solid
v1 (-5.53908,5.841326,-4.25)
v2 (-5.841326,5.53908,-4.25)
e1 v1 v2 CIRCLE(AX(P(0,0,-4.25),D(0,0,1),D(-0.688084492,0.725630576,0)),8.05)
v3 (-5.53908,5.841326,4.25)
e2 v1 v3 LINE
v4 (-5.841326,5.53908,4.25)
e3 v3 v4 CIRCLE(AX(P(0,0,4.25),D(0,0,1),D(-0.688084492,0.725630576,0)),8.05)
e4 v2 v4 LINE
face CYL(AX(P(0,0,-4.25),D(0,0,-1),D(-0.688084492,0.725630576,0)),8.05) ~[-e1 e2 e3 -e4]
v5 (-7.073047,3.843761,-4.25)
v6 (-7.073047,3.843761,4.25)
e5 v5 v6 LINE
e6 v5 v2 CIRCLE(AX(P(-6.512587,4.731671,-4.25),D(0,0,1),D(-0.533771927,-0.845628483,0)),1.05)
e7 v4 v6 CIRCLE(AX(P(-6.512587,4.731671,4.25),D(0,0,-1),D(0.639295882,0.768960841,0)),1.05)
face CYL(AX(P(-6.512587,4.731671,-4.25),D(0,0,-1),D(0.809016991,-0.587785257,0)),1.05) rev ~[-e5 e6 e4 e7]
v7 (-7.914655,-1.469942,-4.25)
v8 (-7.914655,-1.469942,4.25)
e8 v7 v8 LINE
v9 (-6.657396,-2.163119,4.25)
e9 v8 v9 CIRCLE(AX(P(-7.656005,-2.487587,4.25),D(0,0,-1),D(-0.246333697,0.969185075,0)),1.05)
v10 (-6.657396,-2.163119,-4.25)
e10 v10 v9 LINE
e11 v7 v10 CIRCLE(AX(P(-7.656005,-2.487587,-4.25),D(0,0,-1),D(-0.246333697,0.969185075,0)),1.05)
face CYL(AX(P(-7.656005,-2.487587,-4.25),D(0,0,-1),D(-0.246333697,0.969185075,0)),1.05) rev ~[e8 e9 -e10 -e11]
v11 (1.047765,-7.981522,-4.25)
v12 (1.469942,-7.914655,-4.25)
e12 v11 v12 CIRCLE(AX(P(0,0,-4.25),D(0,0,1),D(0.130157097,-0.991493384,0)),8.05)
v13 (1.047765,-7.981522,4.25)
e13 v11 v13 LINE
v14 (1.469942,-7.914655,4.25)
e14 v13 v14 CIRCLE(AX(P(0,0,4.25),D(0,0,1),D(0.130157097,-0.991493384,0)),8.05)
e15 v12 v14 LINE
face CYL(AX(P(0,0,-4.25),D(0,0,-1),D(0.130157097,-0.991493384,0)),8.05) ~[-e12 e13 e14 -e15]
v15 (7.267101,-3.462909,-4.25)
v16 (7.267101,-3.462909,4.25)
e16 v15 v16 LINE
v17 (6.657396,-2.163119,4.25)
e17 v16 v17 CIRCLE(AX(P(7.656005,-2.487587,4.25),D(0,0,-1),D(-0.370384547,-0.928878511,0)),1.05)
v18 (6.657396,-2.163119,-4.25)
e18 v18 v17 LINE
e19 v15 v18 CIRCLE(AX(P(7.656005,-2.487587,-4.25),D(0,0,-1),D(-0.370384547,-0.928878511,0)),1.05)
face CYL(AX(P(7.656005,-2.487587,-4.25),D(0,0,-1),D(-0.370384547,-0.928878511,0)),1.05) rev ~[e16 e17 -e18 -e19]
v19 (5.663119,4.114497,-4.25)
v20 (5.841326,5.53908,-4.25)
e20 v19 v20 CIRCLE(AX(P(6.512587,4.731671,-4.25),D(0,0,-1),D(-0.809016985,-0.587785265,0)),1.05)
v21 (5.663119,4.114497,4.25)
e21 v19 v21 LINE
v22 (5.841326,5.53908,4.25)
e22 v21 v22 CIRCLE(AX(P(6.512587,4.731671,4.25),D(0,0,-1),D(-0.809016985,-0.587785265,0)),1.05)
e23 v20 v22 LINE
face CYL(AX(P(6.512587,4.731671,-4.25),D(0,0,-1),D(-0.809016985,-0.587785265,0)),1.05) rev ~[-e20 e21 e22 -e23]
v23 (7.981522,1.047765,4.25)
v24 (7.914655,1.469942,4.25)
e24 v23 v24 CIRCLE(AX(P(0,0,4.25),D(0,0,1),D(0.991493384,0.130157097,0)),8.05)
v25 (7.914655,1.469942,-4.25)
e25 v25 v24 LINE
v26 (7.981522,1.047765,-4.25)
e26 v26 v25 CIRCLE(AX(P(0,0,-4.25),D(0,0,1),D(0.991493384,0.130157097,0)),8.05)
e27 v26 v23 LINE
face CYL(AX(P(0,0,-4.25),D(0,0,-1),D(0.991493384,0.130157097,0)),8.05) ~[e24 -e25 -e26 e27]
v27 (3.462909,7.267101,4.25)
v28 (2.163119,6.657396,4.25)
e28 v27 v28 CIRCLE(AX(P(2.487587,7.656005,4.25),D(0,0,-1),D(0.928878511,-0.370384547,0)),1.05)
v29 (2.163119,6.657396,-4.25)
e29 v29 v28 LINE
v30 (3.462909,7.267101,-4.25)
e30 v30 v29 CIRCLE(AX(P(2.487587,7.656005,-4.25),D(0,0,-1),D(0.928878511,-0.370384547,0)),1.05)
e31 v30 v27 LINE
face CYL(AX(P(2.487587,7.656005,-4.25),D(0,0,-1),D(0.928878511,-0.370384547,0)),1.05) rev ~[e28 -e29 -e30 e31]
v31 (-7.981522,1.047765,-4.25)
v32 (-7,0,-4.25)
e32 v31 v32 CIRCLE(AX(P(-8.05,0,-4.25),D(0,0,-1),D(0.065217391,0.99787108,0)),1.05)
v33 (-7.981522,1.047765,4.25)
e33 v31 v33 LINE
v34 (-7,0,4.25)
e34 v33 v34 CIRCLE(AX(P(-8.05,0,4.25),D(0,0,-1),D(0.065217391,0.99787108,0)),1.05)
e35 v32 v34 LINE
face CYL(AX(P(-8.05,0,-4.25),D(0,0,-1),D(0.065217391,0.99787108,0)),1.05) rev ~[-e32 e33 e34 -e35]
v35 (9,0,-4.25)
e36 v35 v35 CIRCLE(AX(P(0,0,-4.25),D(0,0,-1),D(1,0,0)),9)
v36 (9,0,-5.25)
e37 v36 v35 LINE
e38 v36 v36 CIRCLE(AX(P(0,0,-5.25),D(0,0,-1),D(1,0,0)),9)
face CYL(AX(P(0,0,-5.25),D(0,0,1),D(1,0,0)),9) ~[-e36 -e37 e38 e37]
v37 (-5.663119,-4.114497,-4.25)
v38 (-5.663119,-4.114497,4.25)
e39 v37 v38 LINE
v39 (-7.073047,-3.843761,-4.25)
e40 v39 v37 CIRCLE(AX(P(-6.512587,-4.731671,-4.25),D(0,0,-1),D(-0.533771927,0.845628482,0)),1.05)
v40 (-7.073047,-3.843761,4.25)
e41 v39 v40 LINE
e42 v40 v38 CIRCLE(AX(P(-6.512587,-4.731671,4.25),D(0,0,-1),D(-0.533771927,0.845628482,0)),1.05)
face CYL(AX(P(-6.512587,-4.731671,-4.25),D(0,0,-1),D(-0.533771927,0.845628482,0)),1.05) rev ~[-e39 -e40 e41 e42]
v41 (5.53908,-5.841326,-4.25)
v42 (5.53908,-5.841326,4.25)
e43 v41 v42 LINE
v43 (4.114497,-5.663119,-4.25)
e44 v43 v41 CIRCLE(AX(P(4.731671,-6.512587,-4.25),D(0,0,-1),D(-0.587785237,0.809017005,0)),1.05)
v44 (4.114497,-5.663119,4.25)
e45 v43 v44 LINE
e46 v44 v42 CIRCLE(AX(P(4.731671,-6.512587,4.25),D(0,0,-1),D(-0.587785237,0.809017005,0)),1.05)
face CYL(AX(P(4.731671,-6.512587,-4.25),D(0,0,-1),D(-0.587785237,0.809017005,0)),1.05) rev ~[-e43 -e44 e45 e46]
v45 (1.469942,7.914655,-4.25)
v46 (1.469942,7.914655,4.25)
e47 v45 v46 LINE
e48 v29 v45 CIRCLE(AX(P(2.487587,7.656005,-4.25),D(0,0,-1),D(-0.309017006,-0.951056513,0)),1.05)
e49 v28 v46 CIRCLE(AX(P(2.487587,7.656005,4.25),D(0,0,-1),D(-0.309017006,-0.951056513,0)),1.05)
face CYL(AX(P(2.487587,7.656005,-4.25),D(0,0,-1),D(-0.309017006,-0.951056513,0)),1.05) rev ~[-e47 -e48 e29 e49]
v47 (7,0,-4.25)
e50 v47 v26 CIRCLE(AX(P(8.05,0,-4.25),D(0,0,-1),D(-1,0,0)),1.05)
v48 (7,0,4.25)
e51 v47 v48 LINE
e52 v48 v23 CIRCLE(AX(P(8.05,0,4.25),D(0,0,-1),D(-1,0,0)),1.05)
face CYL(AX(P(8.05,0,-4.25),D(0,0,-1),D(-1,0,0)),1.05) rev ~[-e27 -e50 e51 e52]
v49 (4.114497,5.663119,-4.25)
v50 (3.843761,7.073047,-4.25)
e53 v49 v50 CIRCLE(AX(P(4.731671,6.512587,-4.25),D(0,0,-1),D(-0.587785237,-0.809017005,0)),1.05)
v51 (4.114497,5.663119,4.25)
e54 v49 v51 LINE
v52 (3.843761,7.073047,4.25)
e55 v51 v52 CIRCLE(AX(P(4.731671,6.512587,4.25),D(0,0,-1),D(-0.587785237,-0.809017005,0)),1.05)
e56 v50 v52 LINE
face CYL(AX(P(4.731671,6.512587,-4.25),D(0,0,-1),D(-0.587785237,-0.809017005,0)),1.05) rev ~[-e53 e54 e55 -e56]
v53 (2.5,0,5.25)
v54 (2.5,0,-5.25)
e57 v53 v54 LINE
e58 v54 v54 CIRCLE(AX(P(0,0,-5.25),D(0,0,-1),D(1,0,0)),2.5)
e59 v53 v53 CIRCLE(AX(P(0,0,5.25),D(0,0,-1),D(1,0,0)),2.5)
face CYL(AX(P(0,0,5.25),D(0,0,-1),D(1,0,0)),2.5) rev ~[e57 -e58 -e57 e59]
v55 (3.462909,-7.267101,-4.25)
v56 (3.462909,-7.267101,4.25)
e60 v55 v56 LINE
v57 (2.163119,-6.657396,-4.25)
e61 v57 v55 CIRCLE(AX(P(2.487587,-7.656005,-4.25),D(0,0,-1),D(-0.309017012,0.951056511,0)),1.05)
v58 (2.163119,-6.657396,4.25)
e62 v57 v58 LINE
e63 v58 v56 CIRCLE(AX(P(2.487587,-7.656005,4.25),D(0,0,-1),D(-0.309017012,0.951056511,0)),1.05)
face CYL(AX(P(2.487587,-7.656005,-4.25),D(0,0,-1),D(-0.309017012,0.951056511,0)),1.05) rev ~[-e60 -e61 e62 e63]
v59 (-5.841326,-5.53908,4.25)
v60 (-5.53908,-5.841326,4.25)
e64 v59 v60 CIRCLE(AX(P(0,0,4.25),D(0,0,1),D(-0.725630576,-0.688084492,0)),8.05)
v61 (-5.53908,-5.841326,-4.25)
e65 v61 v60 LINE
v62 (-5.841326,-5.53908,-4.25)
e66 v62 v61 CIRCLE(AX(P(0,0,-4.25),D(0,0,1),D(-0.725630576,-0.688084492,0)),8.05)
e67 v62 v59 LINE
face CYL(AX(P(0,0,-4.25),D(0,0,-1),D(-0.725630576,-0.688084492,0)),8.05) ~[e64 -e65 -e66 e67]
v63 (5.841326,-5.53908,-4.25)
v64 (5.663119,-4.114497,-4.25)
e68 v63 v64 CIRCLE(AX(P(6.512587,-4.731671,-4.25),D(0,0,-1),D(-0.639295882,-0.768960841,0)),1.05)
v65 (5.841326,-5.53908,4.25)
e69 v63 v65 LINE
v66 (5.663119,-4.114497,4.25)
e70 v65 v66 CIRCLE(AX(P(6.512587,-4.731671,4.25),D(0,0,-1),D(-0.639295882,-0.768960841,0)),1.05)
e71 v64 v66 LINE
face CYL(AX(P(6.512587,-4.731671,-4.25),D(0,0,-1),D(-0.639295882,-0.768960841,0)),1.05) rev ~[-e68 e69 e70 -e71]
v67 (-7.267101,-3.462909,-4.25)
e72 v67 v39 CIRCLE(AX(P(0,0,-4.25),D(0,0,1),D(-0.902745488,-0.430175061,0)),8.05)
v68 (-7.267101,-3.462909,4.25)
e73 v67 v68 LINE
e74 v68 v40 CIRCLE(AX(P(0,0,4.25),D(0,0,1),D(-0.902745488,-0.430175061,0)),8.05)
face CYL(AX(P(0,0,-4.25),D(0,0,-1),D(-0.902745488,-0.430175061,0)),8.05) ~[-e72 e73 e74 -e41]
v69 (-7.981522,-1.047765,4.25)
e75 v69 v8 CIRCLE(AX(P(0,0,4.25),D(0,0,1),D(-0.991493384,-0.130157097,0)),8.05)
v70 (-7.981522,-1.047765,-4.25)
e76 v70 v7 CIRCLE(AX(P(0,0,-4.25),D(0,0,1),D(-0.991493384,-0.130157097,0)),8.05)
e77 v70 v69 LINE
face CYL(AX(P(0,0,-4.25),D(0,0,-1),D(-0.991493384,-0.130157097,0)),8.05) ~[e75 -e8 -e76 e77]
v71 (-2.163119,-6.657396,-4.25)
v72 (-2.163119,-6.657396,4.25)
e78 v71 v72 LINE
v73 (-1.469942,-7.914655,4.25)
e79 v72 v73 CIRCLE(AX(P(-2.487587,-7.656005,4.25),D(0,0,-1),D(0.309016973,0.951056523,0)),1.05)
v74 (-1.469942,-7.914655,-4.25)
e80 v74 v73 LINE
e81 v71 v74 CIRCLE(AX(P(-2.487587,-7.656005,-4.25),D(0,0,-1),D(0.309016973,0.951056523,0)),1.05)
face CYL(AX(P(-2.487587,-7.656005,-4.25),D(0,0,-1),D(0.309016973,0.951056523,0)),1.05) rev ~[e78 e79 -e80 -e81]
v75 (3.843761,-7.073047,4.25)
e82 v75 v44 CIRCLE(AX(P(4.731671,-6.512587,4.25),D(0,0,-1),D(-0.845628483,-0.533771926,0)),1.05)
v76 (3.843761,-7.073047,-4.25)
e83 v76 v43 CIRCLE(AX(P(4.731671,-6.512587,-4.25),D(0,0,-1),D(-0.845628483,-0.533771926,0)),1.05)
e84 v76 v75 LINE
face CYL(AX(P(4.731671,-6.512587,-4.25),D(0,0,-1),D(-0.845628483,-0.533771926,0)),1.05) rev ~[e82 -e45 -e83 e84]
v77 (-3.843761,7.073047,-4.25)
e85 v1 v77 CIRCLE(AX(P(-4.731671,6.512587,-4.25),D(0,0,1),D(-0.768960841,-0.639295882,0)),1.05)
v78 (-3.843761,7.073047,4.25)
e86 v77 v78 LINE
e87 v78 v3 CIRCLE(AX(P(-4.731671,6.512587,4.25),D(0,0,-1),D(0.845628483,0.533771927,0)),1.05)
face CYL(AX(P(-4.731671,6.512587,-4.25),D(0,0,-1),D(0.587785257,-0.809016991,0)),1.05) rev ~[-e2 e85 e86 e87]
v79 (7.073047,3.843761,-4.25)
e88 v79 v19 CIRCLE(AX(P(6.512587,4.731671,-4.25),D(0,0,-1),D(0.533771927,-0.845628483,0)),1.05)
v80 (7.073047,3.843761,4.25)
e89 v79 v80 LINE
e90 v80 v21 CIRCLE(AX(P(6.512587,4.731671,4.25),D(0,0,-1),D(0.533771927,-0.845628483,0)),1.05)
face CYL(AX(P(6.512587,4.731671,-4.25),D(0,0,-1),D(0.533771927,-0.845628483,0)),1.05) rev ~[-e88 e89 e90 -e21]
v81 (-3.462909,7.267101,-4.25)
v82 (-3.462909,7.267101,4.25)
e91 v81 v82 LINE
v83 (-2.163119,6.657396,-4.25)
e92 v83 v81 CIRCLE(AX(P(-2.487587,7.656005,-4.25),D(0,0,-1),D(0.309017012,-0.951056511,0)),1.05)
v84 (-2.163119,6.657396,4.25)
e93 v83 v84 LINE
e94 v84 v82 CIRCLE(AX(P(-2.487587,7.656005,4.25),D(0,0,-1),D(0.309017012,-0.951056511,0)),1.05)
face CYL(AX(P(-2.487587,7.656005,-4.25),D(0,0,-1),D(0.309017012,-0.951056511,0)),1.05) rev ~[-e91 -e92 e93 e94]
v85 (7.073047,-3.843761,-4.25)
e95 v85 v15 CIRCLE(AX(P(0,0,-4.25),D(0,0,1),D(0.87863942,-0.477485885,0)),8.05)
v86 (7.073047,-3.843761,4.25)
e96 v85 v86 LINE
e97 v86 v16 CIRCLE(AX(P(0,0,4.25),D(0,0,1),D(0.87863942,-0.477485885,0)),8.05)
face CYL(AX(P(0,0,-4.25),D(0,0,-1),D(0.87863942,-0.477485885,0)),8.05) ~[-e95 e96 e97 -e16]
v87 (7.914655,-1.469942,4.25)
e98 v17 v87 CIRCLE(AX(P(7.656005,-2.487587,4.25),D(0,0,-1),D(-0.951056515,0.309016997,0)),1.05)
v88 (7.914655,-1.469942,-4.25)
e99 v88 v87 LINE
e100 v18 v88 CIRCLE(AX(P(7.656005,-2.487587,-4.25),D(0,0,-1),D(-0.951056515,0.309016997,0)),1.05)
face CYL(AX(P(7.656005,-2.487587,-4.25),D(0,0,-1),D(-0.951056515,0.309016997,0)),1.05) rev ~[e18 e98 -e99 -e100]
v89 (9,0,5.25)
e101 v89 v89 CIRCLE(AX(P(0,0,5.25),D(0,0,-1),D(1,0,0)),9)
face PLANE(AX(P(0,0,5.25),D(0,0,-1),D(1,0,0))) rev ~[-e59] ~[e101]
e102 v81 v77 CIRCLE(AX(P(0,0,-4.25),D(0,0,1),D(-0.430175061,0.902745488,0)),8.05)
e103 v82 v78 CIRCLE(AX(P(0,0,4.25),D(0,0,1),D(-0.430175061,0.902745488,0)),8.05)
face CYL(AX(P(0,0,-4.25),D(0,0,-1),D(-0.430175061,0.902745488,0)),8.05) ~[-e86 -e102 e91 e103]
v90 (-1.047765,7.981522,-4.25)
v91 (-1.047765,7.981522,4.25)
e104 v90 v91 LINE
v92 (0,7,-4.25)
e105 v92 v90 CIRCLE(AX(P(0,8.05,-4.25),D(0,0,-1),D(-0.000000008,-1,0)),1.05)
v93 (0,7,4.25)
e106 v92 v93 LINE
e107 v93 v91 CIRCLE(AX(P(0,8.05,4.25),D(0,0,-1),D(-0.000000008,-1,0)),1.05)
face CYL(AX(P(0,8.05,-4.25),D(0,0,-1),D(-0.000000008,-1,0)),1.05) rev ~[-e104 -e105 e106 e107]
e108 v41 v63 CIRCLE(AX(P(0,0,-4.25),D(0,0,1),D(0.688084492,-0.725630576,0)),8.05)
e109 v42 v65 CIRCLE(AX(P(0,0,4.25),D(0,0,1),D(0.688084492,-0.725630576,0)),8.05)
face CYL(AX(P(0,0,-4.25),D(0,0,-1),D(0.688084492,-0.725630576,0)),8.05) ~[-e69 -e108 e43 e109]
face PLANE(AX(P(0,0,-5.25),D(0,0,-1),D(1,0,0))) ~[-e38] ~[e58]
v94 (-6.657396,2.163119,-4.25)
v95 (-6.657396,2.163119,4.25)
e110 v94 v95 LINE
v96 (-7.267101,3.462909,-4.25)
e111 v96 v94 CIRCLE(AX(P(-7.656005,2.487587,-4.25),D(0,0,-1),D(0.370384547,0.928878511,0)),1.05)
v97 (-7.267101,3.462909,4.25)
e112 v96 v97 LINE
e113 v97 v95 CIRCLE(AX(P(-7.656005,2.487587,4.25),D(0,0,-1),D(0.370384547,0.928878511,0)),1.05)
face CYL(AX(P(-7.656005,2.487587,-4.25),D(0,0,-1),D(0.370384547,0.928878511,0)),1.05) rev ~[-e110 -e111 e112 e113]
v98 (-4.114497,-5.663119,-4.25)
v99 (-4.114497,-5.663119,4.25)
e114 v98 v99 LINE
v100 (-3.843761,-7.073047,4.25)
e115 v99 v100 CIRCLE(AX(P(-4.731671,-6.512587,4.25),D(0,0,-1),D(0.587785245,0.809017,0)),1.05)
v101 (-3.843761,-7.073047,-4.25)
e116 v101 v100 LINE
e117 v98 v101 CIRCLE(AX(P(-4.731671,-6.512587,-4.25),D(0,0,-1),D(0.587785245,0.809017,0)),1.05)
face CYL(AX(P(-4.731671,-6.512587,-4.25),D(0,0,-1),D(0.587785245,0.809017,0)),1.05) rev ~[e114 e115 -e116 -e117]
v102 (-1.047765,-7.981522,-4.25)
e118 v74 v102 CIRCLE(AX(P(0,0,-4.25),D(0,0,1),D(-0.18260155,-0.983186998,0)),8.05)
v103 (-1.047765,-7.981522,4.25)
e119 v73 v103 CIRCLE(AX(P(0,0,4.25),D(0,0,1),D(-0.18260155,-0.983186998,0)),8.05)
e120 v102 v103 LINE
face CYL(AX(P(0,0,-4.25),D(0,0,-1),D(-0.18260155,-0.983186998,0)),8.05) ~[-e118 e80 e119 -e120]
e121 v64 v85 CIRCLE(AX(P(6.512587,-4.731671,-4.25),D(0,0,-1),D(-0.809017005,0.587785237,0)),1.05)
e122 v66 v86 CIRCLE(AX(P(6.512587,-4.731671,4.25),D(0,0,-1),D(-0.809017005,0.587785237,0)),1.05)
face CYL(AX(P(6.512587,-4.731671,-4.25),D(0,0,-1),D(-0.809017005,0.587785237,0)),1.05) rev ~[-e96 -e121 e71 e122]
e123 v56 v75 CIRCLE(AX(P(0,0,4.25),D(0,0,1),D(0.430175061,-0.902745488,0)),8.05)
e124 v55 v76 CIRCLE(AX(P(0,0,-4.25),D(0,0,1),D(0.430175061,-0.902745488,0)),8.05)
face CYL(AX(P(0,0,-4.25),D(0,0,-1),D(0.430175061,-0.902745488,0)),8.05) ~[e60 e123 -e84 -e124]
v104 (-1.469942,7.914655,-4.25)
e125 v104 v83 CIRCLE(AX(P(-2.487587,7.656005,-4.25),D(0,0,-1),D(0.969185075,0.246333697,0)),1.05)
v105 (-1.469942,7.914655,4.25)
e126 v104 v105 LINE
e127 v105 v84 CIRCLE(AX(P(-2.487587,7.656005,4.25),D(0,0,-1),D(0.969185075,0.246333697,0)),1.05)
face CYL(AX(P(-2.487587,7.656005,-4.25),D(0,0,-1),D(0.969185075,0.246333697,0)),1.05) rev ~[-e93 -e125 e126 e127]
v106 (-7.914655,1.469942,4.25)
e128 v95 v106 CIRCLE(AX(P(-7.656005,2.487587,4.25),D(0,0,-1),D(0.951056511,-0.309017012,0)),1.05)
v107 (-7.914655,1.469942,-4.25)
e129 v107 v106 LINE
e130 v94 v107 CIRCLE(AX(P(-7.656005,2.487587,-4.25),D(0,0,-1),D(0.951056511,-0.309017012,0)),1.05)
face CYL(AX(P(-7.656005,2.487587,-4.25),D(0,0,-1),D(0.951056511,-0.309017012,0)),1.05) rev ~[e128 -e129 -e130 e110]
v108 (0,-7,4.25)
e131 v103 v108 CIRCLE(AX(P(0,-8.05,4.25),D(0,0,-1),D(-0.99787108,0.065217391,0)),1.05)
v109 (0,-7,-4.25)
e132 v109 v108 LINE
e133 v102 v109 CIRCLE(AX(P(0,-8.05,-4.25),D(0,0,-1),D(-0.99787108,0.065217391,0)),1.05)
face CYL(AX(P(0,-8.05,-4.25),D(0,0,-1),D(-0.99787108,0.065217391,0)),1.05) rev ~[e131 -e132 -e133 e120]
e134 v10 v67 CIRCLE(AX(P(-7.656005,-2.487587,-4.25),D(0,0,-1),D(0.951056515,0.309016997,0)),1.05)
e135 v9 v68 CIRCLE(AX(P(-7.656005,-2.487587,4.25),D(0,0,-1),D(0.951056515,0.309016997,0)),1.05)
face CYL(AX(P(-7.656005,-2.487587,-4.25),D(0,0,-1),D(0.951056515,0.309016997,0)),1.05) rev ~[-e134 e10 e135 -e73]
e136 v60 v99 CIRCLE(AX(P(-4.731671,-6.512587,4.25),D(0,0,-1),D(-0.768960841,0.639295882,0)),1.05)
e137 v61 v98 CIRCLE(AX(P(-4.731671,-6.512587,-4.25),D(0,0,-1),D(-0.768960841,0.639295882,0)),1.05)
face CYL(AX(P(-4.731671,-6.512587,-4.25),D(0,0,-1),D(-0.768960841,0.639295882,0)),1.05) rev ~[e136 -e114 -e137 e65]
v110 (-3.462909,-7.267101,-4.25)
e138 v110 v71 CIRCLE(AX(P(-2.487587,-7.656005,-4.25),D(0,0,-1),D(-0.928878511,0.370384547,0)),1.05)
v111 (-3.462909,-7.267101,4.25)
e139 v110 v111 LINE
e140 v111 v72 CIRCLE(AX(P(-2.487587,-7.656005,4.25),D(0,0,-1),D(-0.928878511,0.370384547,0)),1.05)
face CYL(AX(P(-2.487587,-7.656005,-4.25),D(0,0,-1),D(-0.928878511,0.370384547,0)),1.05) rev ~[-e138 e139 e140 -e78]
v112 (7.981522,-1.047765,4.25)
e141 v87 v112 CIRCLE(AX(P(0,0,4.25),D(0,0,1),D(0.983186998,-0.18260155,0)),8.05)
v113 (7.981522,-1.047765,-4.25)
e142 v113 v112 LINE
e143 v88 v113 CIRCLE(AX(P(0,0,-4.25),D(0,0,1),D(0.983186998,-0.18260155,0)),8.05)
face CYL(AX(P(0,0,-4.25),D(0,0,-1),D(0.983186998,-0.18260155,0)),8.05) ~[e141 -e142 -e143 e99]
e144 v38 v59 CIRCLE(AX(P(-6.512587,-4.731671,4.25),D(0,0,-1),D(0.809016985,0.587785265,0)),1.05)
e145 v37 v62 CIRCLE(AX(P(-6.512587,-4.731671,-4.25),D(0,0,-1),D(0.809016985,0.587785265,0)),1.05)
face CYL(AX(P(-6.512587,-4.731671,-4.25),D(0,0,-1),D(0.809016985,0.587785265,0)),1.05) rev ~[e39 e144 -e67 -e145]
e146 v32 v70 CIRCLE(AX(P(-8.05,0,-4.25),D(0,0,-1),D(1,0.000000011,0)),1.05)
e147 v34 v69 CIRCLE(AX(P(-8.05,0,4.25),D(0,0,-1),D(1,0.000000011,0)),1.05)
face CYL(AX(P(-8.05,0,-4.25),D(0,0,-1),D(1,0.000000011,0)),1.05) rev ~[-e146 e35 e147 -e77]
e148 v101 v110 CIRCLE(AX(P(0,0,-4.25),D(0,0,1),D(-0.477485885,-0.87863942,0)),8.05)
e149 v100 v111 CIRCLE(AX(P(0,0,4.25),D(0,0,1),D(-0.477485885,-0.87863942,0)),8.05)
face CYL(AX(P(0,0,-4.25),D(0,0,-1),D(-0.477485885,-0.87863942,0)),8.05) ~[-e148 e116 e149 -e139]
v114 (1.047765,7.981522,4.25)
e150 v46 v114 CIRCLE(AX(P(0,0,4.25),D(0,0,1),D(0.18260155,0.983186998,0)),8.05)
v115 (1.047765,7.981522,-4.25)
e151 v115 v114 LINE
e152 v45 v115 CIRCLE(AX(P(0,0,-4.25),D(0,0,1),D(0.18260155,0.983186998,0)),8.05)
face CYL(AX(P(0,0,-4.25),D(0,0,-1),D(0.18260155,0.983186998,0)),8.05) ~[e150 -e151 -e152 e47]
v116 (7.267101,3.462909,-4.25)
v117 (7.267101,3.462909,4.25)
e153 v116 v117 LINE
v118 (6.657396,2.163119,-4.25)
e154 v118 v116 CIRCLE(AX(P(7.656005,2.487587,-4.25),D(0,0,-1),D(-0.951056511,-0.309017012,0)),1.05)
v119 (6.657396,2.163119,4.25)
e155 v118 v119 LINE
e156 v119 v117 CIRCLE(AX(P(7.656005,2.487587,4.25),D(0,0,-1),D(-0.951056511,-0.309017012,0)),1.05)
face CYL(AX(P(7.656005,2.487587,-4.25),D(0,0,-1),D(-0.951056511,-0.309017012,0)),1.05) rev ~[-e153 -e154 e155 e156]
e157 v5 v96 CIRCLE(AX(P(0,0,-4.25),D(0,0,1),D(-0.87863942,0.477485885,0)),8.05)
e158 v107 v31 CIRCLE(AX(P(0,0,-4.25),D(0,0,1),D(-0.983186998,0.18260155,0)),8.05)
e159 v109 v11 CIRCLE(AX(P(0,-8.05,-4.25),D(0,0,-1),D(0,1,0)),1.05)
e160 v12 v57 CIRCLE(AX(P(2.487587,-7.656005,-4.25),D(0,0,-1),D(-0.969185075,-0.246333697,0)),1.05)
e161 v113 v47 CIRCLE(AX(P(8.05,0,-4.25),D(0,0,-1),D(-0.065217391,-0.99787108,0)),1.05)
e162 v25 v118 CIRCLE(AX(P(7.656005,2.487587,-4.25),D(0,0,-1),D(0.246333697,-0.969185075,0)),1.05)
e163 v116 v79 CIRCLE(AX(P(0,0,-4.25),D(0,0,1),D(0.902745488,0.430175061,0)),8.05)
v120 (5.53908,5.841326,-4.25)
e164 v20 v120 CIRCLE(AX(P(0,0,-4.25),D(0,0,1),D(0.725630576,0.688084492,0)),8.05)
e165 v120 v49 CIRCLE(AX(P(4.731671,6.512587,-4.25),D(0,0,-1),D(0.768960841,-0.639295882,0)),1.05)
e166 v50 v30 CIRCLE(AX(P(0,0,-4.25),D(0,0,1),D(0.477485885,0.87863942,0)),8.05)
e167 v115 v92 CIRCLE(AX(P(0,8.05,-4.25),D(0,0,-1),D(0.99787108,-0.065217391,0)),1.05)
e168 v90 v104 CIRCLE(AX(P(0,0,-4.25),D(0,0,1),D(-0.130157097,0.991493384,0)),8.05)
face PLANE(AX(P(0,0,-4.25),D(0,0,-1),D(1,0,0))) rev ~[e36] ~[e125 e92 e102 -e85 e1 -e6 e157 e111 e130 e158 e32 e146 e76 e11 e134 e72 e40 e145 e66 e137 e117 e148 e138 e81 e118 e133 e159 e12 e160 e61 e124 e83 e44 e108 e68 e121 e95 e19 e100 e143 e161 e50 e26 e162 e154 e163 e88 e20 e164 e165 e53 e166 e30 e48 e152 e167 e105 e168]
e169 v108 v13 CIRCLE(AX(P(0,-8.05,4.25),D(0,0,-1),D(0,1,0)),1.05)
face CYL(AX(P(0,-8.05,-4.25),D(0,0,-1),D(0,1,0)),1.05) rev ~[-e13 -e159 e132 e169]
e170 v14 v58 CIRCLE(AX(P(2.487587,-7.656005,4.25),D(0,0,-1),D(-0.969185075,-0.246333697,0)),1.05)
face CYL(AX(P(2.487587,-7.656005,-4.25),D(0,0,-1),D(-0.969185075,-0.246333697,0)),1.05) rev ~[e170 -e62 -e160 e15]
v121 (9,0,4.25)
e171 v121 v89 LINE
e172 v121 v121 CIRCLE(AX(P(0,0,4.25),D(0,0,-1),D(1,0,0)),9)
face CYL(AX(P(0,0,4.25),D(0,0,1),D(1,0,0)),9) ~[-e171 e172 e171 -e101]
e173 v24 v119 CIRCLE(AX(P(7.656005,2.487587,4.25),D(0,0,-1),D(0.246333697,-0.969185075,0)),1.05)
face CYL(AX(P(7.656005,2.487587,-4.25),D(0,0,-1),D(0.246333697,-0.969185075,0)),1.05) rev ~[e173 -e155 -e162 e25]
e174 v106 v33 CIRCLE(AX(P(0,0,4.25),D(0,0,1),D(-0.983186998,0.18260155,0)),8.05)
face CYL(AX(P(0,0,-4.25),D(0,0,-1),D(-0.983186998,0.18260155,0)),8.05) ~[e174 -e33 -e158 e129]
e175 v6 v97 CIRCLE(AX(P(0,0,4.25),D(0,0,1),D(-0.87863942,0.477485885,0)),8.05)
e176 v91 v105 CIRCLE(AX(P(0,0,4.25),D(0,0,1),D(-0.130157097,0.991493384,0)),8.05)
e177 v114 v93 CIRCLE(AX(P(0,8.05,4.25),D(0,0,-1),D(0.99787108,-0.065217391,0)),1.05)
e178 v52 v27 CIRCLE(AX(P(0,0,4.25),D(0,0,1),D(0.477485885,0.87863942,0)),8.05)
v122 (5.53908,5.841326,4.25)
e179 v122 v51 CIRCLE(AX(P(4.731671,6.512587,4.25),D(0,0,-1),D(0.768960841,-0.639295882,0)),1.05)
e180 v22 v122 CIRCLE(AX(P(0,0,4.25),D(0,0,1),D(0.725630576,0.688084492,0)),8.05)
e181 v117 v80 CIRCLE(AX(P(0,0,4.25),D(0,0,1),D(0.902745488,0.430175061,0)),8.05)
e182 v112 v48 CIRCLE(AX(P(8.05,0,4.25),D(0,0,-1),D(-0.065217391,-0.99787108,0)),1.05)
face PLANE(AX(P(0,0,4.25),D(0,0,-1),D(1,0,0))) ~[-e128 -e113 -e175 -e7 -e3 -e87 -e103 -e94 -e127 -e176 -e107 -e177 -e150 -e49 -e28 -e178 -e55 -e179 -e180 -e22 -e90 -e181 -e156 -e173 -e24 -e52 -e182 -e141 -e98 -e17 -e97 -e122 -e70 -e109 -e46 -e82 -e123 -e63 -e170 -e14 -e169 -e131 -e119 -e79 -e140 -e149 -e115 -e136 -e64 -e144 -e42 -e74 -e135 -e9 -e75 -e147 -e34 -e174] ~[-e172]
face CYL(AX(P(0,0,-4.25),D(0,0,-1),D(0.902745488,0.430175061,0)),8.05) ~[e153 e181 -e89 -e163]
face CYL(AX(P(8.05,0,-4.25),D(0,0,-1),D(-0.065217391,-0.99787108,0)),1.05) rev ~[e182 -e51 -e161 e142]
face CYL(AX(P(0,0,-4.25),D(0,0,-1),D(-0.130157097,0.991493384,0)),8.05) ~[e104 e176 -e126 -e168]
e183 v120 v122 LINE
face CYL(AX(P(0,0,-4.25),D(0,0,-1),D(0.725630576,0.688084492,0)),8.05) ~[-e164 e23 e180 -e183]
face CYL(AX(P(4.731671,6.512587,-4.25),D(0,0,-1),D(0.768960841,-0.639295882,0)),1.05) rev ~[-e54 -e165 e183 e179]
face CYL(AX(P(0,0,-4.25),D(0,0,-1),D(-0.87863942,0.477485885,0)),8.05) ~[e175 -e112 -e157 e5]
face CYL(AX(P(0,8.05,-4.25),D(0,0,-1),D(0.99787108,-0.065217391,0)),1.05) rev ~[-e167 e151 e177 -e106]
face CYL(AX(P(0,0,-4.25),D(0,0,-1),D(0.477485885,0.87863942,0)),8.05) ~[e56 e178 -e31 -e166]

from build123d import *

# Parameters (mm, degrees)
F3_DEPTH = 8.5


with BuildPart() as f1:
    # F0 (on Front) → F1 (revolve)
    with BuildSketch(Plane.XZ):
        Polygon((9, 5.25), (2.5, 5.25), (2.5, -5.25), (9, -5.25), (9, -4.25), (7, -4.25), (7, 4.25), (9, 4.25), align=None)
    revolve(axis=Axis((0, 0, -3.0081442633), (0, 0, -1)))

    # F2 (on face) → F3 (join)
    with BuildSketch(Plane.XY.offset(-4.25)):
        with BuildLine():
            ThreePointArc((7.267101182, -3.4629092409), (6.7053936496, -2.9334995134), (6.657395615, -2.1631189579))
            ThreePointArc((6.657395615, -2.1631189579), (6.2370456655, -3.1779335057), (5.663118949, -4.114496782))
            ThreePointArc((5.663118949, -4.114496782), (6.3145824491, -3.7005096665), (7.0730473275, -3.8437613743))
            ThreePointArc((7.0730473275, -3.8437613743), (7.1726025197, -3.6546235229), (7.267101182, -3.4629092409))
        make_face()
        with BuildLine():
            ThreePointArc((7.9815217391, -1.0477646338), (7.2837095283, -0.7178432371), (7, 0))
            ThreePointArc((7, 0), (6.9138183844, -1.0950412539), (6.657395615, -2.1631189579))
            ThreePointArc((6.657395615, -2.1631189579), (7.1490451706, -1.5680805373), (7.9146553379, -1.4699424759))
            ThreePointArc((7.9146553379, -1.4699424759), (7.9508911418, -1.2592974436), (7.9815217391, -1.0477646338))
        make_face()
        with BuildLine():
            ThreePointArc((7.9146553379, 1.4699424759), (7.1490451776, 1.5680805334), (6.6573956199, 2.1631189425))
            ThreePointArc((6.6573956199, 2.1631189425), (6.9138183857, 1.0950412459), (7, 0))
            ThreePointArc((7, 0), (7.2837095283, 0.7178432371), (7.9815217391, 1.0477646338))
            ThreePointArc((7.9815217391, 1.0477646338), (7.9508911418, 1.2592974436), (7.9146553379, 1.4699424759))
        make_face()
        with BuildLine():
            ThreePointArc((5.8413261283, -5.5390801639), (5.4707071235, -4.8620044306), (5.663118949, -4.114496782))
            ThreePointArc((5.663118949, -4.114496782), (4.9497474683, -4.9497474683), (4.114496782, -5.663118949))
            ThreePointArc((4.114496782, -5.663118949), (4.8620044306, -5.4707071235), (5.5390801639, -5.8413261283))
            ThreePointArc((5.5390801639, -5.8413261283), (5.6922095886, -5.6922095886), (5.8413261283, -5.5390801639))
        make_face()
        with BuildLine():
            ThreePointArc((3.8437613743, -7.0730473275), (3.7005096665, -6.3145824491), (4.114496782, -5.663118949))
            ThreePointArc((4.114496782, -5.663118949), (3.1779334985, -6.2370456692), (2.1631189425, -6.6573956199))
            ThreePointArc((2.1631189425, -6.6573956199), (2.933499506, -6.7053936461), (3.4629092409, -7.267101182))
            ThreePointArc((3.4629092409, -7.267101182), (3.6546235229, -7.1726025197), (3.8437613743, -7.0730473275))
        make_face()
        with BuildLine():
            ThreePointArc((1.4699424759, -7.9146553379), (1.5680805334, -7.1490451776), (2.1631189425, -6.6573956199))
            ThreePointArc((2.1631189425, -6.6573956199), (1.0950412459, -6.9138183857), (0, -7))
            ThreePointArc((0, -7), (0.7178432371, -7.2837095283), (1.0477646338, -7.9815217391))
            ThreePointArc((1.0477646338, -7.9815217391), (1.2592974436, -7.9508911418), (1.4699424759, -7.9146553379))
        make_face()
        with BuildLine():
            ThreePointArc((0, -7), (-1.0950412668, -6.9138183823), (-2.1631189827, -6.6573956069))
            ThreePointArc((-2.1631189827, -6.6573956069), (-1.5680805436, -7.1490451591), (-1.4699424759, -7.9146553379))
            ThreePointArc((-1.4699424759, -7.9146553379), (-1.2592974436, -7.9508911418), (-1.0477646338, -7.9815217391))
            ThreePointArc((-1.0477646338, -7.9815217391), (-0.7178432371, -7.2837095283), (0, -7))
        make_face()
        with BuildLine():
            ThreePointArc((-2.1631189827, -6.6573956069), (-3.1779335128, -6.2370456619), (-4.1144967738, -5.663118955))
            ThreePointArc((-4.1144967738, -5.663118955), (-3.7005096655, -6.314582454), (-3.8437613743, -7.0730473275))
            ThreePointArc((-3.8437613743, -7.0730473275), (-3.6546235229, -7.1726025197), (-3.4629092409, -7.267101182))
            ThreePointArc((-3.4629092409, -7.267101182), (-2.9334995252, -6.7053936551), (-2.1631189827, -6.6573956069))
        make_face()
        with BuildLine():
            ThreePointArc((-4.1144967738, -5.663118955), (-4.9497474777, -4.9497474589), (-5.6631189706, -4.1144967523))
            ThreePointArc((-5.6631189706, -4.1144967523), (-5.4707071212, -4.8620044124), (-5.8413261283, -5.5390801639))
            ThreePointArc((-5.8413261283, -5.5390801639), (-5.6922095886, -5.6922095886), (-5.5390801639, -5.8413261283))
            ThreePointArc((-5.5390801639, -5.8413261283), (-4.8620044256, -5.4707071229), (-4.1144967738, -5.663118955))
        make_face()
        with BuildLine():
            ThreePointArc((-5.6631189706, -4.1144967523), (-6.2370456738, -3.1779334893), (-6.657395615, -2.1631189579))
            ThreePointArc((-6.657395615, -2.1631189579), (-6.7053936496, -2.9334995134), (-7.267101182, -3.4629092409))
            ThreePointArc((-7.267101182, -3.4629092409), (-7.1726025197, -3.6546235229), (-7.0730473275, -3.8437613743))
            ThreePointArc((-7.0730473275, -3.8437613743), (-6.3145824671, -3.700509663), (-5.6631189706, -4.1144967523))
        make_face()
        with BuildLine():
            ThreePointArc((-6.657395615, -2.1631189579), (-6.9138183853, -1.0950412479), (-7, 1.2e-08))
            ThreePointArc((-7, 1.2e-08), (-7.2837095242, -0.7178432327), (-7.9815217391, -1.0477646338))
            ThreePointArc((-7.9815217391, -1.0477646338), (-7.9508911418, -1.2592974436), (-7.9146553379, -1.4699424759))
            ThreePointArc((-7.9146553379, -1.4699424759), (-7.1490451706, -1.5680805373), (-6.657395615, -2.1631189579))
        make_face()
        with BuildLine():
            ThreePointArc((-7, 1.2e-08), (-6.9138183847, 1.0950412518), (-6.6573956199, 2.1631189425))
            ThreePointArc((-6.6573956199, 2.1631189425), (-7.1490451776, 1.5680805334), (-7.9146553379, 1.4699424759))
            ThreePointArc((-7.9146553379, 1.4699424759), (-7.9508911418, 1.2592974436), (-7.9815217391, 1.0477646338))
            ThreePointArc((-7.9815217391, 1.0477646338), (-7.2837095325, 0.7178432415), (-7, 1.2e-08))
        make_face()
        with BuildLine():
            ThreePointArc((-6.6573956199, 2.1631189425), (-6.2370456751, 3.1779334867), (-5.6631189645, 4.1144967607))
            ThreePointArc((-5.6631189645, 4.1144967607), (-6.314582462, 3.700509664), (-7.0730473275, 3.8437613743))
            ThreePointArc((-7.0730473275, 3.8437613743), (-7.1726025197, 3.6546235229), (-7.267101182, 3.4629092409))
            ThreePointArc((-7.267101182, 3.4629092409), (-6.7053936461, 2.933499506), (-6.6573956199, 2.1631189425))
        make_face()
        with BuildLine():
            ThreePointArc((-5.6631189645, 4.1144967607), (-4.9497474683, 4.9497474683), (-4.1144967607, 5.6631189645))
            ThreePointArc((-4.1144967607, 5.6631189645), (-4.8620044176, 5.4707071219), (-5.5390801639, 5.8413261283))
            ThreePointArc((-5.5390801639, 5.8413261283), (-5.6922095886, 5.6922095886), (-5.8413261283, 5.5390801639))
            ThreePointArc((-5.8413261283, 5.5390801639), (-5.4707071219, 4.8620044176), (-5.6631189645, 4.1144967607))
        make_face()
        with BuildLine():
            ThreePointArc((-4.1144967607, 5.6631189645), (-3.1779334867, 6.2370456751), (-2.1631189425, 6.6573956199))
            ThreePointArc((-2.1631189425, 6.6573956199), (-2.933499506, 6.7053936461), (-3.4629092409, 7.267101182))
            ThreePointArc((-3.4629092409, 7.267101182), (-3.6546235229, 7.1726025197), (-3.8437613743, 7.0730473275))
            ThreePointArc((-3.8437613743, 7.0730473275), (-3.700509664, 6.314582462), (-4.1144967607, 5.6631189645))
        make_face()
        with BuildLine():
            ThreePointArc((-8.7e-09, 7), (-0.7178432403, 7.2837095313), (-1.0477646338, 7.9815217391))
            ThreePointArc((-1.0477646338, 7.9815217391), (-1.2592974436, 7.9508911418), (-1.4699424759, 7.9146553379))
            ThreePointArc((-1.4699424759, 7.9146553379), (-1.5680805334, 7.1490451776), (-2.1631189425, 6.6573956199))
            ThreePointArc((-2.1631189425, 6.6573956199), (-1.0950412502, 6.913818385), (-8.7e-09, 7))
        make_face()
        with BuildLine():
            ThreePointArc((1.0477646338, 7.9815217391), (0.7178432339, 7.2837095254), (-8.7e-09, 7))
            ThreePointArc((-8.7e-09, 7), (1.0950412447, 6.9138183858), (2.1631189486, 6.657395618))
            ThreePointArc((2.1631189486, 6.657395618), (1.568080535, 7.1490451748), (1.4699424759, 7.9146553379))
            ThreePointArc((1.4699424759, 7.9146553379), (1.2592974436, 7.9508911418), (1.0477646338, 7.9815217391))
        make_face()
        with BuildLine():
            ThreePointArc((3.4629092409, 7.267101182), (2.9334995089, 6.7053936475), (2.1631189486, 6.657395618))
            ThreePointArc((2.1631189486, 6.657395618), (3.1779335013, 6.2370456677), (4.114496782, 5.663118949))
            ThreePointArc((4.114496782, 5.663118949), (3.7005096665, 6.3145824491), (3.8437613743, 7.0730473275))
            ThreePointArc((3.8437613743, 7.0730473275), (3.6546235229, 7.1726025197), (3.4629092409, 7.267101182))
        make_face()
        with BuildLine():
            ThreePointArc((5.5390801639, 5.8413261283), (4.8620044306, 5.4707071235), (4.114496782, 5.663118949))
            ThreePointArc((4.114496782, 5.663118949), (4.949747481, 4.9497474556), (5.6631189701, 4.114496753))
            ThreePointArc((5.6631189701, 4.114496753), (5.4707071213, 4.8620044128), (5.8413261283, 5.5390801639))
            ThreePointArc((5.8413261283, 5.5390801639), (5.6922095886, 5.6922095886), (5.5390801639, 5.8413261283))
        make_face()
        with BuildLine():
            ThreePointArc((7.0730473275, 3.8437613743), (6.3145824667, 3.7005096631), (5.6631189701, 4.114496753))
            ThreePointArc((5.6631189701, 4.114496753), (6.2370456773, 3.1779334825), (6.6573956199, 2.1631189425))
            ThreePointArc((6.6573956199, 2.1631189425), (6.7053936461, 2.933499506), (7.267101182, 3.4629092409))
            ThreePointArc((7.267101182, 3.4629092409), (7.1726025197, 3.6546235229), (7.0730473275, 3.8437613743))
        make_face()
    extrude(amount=F3_DEPTH)


solid = f1.part
